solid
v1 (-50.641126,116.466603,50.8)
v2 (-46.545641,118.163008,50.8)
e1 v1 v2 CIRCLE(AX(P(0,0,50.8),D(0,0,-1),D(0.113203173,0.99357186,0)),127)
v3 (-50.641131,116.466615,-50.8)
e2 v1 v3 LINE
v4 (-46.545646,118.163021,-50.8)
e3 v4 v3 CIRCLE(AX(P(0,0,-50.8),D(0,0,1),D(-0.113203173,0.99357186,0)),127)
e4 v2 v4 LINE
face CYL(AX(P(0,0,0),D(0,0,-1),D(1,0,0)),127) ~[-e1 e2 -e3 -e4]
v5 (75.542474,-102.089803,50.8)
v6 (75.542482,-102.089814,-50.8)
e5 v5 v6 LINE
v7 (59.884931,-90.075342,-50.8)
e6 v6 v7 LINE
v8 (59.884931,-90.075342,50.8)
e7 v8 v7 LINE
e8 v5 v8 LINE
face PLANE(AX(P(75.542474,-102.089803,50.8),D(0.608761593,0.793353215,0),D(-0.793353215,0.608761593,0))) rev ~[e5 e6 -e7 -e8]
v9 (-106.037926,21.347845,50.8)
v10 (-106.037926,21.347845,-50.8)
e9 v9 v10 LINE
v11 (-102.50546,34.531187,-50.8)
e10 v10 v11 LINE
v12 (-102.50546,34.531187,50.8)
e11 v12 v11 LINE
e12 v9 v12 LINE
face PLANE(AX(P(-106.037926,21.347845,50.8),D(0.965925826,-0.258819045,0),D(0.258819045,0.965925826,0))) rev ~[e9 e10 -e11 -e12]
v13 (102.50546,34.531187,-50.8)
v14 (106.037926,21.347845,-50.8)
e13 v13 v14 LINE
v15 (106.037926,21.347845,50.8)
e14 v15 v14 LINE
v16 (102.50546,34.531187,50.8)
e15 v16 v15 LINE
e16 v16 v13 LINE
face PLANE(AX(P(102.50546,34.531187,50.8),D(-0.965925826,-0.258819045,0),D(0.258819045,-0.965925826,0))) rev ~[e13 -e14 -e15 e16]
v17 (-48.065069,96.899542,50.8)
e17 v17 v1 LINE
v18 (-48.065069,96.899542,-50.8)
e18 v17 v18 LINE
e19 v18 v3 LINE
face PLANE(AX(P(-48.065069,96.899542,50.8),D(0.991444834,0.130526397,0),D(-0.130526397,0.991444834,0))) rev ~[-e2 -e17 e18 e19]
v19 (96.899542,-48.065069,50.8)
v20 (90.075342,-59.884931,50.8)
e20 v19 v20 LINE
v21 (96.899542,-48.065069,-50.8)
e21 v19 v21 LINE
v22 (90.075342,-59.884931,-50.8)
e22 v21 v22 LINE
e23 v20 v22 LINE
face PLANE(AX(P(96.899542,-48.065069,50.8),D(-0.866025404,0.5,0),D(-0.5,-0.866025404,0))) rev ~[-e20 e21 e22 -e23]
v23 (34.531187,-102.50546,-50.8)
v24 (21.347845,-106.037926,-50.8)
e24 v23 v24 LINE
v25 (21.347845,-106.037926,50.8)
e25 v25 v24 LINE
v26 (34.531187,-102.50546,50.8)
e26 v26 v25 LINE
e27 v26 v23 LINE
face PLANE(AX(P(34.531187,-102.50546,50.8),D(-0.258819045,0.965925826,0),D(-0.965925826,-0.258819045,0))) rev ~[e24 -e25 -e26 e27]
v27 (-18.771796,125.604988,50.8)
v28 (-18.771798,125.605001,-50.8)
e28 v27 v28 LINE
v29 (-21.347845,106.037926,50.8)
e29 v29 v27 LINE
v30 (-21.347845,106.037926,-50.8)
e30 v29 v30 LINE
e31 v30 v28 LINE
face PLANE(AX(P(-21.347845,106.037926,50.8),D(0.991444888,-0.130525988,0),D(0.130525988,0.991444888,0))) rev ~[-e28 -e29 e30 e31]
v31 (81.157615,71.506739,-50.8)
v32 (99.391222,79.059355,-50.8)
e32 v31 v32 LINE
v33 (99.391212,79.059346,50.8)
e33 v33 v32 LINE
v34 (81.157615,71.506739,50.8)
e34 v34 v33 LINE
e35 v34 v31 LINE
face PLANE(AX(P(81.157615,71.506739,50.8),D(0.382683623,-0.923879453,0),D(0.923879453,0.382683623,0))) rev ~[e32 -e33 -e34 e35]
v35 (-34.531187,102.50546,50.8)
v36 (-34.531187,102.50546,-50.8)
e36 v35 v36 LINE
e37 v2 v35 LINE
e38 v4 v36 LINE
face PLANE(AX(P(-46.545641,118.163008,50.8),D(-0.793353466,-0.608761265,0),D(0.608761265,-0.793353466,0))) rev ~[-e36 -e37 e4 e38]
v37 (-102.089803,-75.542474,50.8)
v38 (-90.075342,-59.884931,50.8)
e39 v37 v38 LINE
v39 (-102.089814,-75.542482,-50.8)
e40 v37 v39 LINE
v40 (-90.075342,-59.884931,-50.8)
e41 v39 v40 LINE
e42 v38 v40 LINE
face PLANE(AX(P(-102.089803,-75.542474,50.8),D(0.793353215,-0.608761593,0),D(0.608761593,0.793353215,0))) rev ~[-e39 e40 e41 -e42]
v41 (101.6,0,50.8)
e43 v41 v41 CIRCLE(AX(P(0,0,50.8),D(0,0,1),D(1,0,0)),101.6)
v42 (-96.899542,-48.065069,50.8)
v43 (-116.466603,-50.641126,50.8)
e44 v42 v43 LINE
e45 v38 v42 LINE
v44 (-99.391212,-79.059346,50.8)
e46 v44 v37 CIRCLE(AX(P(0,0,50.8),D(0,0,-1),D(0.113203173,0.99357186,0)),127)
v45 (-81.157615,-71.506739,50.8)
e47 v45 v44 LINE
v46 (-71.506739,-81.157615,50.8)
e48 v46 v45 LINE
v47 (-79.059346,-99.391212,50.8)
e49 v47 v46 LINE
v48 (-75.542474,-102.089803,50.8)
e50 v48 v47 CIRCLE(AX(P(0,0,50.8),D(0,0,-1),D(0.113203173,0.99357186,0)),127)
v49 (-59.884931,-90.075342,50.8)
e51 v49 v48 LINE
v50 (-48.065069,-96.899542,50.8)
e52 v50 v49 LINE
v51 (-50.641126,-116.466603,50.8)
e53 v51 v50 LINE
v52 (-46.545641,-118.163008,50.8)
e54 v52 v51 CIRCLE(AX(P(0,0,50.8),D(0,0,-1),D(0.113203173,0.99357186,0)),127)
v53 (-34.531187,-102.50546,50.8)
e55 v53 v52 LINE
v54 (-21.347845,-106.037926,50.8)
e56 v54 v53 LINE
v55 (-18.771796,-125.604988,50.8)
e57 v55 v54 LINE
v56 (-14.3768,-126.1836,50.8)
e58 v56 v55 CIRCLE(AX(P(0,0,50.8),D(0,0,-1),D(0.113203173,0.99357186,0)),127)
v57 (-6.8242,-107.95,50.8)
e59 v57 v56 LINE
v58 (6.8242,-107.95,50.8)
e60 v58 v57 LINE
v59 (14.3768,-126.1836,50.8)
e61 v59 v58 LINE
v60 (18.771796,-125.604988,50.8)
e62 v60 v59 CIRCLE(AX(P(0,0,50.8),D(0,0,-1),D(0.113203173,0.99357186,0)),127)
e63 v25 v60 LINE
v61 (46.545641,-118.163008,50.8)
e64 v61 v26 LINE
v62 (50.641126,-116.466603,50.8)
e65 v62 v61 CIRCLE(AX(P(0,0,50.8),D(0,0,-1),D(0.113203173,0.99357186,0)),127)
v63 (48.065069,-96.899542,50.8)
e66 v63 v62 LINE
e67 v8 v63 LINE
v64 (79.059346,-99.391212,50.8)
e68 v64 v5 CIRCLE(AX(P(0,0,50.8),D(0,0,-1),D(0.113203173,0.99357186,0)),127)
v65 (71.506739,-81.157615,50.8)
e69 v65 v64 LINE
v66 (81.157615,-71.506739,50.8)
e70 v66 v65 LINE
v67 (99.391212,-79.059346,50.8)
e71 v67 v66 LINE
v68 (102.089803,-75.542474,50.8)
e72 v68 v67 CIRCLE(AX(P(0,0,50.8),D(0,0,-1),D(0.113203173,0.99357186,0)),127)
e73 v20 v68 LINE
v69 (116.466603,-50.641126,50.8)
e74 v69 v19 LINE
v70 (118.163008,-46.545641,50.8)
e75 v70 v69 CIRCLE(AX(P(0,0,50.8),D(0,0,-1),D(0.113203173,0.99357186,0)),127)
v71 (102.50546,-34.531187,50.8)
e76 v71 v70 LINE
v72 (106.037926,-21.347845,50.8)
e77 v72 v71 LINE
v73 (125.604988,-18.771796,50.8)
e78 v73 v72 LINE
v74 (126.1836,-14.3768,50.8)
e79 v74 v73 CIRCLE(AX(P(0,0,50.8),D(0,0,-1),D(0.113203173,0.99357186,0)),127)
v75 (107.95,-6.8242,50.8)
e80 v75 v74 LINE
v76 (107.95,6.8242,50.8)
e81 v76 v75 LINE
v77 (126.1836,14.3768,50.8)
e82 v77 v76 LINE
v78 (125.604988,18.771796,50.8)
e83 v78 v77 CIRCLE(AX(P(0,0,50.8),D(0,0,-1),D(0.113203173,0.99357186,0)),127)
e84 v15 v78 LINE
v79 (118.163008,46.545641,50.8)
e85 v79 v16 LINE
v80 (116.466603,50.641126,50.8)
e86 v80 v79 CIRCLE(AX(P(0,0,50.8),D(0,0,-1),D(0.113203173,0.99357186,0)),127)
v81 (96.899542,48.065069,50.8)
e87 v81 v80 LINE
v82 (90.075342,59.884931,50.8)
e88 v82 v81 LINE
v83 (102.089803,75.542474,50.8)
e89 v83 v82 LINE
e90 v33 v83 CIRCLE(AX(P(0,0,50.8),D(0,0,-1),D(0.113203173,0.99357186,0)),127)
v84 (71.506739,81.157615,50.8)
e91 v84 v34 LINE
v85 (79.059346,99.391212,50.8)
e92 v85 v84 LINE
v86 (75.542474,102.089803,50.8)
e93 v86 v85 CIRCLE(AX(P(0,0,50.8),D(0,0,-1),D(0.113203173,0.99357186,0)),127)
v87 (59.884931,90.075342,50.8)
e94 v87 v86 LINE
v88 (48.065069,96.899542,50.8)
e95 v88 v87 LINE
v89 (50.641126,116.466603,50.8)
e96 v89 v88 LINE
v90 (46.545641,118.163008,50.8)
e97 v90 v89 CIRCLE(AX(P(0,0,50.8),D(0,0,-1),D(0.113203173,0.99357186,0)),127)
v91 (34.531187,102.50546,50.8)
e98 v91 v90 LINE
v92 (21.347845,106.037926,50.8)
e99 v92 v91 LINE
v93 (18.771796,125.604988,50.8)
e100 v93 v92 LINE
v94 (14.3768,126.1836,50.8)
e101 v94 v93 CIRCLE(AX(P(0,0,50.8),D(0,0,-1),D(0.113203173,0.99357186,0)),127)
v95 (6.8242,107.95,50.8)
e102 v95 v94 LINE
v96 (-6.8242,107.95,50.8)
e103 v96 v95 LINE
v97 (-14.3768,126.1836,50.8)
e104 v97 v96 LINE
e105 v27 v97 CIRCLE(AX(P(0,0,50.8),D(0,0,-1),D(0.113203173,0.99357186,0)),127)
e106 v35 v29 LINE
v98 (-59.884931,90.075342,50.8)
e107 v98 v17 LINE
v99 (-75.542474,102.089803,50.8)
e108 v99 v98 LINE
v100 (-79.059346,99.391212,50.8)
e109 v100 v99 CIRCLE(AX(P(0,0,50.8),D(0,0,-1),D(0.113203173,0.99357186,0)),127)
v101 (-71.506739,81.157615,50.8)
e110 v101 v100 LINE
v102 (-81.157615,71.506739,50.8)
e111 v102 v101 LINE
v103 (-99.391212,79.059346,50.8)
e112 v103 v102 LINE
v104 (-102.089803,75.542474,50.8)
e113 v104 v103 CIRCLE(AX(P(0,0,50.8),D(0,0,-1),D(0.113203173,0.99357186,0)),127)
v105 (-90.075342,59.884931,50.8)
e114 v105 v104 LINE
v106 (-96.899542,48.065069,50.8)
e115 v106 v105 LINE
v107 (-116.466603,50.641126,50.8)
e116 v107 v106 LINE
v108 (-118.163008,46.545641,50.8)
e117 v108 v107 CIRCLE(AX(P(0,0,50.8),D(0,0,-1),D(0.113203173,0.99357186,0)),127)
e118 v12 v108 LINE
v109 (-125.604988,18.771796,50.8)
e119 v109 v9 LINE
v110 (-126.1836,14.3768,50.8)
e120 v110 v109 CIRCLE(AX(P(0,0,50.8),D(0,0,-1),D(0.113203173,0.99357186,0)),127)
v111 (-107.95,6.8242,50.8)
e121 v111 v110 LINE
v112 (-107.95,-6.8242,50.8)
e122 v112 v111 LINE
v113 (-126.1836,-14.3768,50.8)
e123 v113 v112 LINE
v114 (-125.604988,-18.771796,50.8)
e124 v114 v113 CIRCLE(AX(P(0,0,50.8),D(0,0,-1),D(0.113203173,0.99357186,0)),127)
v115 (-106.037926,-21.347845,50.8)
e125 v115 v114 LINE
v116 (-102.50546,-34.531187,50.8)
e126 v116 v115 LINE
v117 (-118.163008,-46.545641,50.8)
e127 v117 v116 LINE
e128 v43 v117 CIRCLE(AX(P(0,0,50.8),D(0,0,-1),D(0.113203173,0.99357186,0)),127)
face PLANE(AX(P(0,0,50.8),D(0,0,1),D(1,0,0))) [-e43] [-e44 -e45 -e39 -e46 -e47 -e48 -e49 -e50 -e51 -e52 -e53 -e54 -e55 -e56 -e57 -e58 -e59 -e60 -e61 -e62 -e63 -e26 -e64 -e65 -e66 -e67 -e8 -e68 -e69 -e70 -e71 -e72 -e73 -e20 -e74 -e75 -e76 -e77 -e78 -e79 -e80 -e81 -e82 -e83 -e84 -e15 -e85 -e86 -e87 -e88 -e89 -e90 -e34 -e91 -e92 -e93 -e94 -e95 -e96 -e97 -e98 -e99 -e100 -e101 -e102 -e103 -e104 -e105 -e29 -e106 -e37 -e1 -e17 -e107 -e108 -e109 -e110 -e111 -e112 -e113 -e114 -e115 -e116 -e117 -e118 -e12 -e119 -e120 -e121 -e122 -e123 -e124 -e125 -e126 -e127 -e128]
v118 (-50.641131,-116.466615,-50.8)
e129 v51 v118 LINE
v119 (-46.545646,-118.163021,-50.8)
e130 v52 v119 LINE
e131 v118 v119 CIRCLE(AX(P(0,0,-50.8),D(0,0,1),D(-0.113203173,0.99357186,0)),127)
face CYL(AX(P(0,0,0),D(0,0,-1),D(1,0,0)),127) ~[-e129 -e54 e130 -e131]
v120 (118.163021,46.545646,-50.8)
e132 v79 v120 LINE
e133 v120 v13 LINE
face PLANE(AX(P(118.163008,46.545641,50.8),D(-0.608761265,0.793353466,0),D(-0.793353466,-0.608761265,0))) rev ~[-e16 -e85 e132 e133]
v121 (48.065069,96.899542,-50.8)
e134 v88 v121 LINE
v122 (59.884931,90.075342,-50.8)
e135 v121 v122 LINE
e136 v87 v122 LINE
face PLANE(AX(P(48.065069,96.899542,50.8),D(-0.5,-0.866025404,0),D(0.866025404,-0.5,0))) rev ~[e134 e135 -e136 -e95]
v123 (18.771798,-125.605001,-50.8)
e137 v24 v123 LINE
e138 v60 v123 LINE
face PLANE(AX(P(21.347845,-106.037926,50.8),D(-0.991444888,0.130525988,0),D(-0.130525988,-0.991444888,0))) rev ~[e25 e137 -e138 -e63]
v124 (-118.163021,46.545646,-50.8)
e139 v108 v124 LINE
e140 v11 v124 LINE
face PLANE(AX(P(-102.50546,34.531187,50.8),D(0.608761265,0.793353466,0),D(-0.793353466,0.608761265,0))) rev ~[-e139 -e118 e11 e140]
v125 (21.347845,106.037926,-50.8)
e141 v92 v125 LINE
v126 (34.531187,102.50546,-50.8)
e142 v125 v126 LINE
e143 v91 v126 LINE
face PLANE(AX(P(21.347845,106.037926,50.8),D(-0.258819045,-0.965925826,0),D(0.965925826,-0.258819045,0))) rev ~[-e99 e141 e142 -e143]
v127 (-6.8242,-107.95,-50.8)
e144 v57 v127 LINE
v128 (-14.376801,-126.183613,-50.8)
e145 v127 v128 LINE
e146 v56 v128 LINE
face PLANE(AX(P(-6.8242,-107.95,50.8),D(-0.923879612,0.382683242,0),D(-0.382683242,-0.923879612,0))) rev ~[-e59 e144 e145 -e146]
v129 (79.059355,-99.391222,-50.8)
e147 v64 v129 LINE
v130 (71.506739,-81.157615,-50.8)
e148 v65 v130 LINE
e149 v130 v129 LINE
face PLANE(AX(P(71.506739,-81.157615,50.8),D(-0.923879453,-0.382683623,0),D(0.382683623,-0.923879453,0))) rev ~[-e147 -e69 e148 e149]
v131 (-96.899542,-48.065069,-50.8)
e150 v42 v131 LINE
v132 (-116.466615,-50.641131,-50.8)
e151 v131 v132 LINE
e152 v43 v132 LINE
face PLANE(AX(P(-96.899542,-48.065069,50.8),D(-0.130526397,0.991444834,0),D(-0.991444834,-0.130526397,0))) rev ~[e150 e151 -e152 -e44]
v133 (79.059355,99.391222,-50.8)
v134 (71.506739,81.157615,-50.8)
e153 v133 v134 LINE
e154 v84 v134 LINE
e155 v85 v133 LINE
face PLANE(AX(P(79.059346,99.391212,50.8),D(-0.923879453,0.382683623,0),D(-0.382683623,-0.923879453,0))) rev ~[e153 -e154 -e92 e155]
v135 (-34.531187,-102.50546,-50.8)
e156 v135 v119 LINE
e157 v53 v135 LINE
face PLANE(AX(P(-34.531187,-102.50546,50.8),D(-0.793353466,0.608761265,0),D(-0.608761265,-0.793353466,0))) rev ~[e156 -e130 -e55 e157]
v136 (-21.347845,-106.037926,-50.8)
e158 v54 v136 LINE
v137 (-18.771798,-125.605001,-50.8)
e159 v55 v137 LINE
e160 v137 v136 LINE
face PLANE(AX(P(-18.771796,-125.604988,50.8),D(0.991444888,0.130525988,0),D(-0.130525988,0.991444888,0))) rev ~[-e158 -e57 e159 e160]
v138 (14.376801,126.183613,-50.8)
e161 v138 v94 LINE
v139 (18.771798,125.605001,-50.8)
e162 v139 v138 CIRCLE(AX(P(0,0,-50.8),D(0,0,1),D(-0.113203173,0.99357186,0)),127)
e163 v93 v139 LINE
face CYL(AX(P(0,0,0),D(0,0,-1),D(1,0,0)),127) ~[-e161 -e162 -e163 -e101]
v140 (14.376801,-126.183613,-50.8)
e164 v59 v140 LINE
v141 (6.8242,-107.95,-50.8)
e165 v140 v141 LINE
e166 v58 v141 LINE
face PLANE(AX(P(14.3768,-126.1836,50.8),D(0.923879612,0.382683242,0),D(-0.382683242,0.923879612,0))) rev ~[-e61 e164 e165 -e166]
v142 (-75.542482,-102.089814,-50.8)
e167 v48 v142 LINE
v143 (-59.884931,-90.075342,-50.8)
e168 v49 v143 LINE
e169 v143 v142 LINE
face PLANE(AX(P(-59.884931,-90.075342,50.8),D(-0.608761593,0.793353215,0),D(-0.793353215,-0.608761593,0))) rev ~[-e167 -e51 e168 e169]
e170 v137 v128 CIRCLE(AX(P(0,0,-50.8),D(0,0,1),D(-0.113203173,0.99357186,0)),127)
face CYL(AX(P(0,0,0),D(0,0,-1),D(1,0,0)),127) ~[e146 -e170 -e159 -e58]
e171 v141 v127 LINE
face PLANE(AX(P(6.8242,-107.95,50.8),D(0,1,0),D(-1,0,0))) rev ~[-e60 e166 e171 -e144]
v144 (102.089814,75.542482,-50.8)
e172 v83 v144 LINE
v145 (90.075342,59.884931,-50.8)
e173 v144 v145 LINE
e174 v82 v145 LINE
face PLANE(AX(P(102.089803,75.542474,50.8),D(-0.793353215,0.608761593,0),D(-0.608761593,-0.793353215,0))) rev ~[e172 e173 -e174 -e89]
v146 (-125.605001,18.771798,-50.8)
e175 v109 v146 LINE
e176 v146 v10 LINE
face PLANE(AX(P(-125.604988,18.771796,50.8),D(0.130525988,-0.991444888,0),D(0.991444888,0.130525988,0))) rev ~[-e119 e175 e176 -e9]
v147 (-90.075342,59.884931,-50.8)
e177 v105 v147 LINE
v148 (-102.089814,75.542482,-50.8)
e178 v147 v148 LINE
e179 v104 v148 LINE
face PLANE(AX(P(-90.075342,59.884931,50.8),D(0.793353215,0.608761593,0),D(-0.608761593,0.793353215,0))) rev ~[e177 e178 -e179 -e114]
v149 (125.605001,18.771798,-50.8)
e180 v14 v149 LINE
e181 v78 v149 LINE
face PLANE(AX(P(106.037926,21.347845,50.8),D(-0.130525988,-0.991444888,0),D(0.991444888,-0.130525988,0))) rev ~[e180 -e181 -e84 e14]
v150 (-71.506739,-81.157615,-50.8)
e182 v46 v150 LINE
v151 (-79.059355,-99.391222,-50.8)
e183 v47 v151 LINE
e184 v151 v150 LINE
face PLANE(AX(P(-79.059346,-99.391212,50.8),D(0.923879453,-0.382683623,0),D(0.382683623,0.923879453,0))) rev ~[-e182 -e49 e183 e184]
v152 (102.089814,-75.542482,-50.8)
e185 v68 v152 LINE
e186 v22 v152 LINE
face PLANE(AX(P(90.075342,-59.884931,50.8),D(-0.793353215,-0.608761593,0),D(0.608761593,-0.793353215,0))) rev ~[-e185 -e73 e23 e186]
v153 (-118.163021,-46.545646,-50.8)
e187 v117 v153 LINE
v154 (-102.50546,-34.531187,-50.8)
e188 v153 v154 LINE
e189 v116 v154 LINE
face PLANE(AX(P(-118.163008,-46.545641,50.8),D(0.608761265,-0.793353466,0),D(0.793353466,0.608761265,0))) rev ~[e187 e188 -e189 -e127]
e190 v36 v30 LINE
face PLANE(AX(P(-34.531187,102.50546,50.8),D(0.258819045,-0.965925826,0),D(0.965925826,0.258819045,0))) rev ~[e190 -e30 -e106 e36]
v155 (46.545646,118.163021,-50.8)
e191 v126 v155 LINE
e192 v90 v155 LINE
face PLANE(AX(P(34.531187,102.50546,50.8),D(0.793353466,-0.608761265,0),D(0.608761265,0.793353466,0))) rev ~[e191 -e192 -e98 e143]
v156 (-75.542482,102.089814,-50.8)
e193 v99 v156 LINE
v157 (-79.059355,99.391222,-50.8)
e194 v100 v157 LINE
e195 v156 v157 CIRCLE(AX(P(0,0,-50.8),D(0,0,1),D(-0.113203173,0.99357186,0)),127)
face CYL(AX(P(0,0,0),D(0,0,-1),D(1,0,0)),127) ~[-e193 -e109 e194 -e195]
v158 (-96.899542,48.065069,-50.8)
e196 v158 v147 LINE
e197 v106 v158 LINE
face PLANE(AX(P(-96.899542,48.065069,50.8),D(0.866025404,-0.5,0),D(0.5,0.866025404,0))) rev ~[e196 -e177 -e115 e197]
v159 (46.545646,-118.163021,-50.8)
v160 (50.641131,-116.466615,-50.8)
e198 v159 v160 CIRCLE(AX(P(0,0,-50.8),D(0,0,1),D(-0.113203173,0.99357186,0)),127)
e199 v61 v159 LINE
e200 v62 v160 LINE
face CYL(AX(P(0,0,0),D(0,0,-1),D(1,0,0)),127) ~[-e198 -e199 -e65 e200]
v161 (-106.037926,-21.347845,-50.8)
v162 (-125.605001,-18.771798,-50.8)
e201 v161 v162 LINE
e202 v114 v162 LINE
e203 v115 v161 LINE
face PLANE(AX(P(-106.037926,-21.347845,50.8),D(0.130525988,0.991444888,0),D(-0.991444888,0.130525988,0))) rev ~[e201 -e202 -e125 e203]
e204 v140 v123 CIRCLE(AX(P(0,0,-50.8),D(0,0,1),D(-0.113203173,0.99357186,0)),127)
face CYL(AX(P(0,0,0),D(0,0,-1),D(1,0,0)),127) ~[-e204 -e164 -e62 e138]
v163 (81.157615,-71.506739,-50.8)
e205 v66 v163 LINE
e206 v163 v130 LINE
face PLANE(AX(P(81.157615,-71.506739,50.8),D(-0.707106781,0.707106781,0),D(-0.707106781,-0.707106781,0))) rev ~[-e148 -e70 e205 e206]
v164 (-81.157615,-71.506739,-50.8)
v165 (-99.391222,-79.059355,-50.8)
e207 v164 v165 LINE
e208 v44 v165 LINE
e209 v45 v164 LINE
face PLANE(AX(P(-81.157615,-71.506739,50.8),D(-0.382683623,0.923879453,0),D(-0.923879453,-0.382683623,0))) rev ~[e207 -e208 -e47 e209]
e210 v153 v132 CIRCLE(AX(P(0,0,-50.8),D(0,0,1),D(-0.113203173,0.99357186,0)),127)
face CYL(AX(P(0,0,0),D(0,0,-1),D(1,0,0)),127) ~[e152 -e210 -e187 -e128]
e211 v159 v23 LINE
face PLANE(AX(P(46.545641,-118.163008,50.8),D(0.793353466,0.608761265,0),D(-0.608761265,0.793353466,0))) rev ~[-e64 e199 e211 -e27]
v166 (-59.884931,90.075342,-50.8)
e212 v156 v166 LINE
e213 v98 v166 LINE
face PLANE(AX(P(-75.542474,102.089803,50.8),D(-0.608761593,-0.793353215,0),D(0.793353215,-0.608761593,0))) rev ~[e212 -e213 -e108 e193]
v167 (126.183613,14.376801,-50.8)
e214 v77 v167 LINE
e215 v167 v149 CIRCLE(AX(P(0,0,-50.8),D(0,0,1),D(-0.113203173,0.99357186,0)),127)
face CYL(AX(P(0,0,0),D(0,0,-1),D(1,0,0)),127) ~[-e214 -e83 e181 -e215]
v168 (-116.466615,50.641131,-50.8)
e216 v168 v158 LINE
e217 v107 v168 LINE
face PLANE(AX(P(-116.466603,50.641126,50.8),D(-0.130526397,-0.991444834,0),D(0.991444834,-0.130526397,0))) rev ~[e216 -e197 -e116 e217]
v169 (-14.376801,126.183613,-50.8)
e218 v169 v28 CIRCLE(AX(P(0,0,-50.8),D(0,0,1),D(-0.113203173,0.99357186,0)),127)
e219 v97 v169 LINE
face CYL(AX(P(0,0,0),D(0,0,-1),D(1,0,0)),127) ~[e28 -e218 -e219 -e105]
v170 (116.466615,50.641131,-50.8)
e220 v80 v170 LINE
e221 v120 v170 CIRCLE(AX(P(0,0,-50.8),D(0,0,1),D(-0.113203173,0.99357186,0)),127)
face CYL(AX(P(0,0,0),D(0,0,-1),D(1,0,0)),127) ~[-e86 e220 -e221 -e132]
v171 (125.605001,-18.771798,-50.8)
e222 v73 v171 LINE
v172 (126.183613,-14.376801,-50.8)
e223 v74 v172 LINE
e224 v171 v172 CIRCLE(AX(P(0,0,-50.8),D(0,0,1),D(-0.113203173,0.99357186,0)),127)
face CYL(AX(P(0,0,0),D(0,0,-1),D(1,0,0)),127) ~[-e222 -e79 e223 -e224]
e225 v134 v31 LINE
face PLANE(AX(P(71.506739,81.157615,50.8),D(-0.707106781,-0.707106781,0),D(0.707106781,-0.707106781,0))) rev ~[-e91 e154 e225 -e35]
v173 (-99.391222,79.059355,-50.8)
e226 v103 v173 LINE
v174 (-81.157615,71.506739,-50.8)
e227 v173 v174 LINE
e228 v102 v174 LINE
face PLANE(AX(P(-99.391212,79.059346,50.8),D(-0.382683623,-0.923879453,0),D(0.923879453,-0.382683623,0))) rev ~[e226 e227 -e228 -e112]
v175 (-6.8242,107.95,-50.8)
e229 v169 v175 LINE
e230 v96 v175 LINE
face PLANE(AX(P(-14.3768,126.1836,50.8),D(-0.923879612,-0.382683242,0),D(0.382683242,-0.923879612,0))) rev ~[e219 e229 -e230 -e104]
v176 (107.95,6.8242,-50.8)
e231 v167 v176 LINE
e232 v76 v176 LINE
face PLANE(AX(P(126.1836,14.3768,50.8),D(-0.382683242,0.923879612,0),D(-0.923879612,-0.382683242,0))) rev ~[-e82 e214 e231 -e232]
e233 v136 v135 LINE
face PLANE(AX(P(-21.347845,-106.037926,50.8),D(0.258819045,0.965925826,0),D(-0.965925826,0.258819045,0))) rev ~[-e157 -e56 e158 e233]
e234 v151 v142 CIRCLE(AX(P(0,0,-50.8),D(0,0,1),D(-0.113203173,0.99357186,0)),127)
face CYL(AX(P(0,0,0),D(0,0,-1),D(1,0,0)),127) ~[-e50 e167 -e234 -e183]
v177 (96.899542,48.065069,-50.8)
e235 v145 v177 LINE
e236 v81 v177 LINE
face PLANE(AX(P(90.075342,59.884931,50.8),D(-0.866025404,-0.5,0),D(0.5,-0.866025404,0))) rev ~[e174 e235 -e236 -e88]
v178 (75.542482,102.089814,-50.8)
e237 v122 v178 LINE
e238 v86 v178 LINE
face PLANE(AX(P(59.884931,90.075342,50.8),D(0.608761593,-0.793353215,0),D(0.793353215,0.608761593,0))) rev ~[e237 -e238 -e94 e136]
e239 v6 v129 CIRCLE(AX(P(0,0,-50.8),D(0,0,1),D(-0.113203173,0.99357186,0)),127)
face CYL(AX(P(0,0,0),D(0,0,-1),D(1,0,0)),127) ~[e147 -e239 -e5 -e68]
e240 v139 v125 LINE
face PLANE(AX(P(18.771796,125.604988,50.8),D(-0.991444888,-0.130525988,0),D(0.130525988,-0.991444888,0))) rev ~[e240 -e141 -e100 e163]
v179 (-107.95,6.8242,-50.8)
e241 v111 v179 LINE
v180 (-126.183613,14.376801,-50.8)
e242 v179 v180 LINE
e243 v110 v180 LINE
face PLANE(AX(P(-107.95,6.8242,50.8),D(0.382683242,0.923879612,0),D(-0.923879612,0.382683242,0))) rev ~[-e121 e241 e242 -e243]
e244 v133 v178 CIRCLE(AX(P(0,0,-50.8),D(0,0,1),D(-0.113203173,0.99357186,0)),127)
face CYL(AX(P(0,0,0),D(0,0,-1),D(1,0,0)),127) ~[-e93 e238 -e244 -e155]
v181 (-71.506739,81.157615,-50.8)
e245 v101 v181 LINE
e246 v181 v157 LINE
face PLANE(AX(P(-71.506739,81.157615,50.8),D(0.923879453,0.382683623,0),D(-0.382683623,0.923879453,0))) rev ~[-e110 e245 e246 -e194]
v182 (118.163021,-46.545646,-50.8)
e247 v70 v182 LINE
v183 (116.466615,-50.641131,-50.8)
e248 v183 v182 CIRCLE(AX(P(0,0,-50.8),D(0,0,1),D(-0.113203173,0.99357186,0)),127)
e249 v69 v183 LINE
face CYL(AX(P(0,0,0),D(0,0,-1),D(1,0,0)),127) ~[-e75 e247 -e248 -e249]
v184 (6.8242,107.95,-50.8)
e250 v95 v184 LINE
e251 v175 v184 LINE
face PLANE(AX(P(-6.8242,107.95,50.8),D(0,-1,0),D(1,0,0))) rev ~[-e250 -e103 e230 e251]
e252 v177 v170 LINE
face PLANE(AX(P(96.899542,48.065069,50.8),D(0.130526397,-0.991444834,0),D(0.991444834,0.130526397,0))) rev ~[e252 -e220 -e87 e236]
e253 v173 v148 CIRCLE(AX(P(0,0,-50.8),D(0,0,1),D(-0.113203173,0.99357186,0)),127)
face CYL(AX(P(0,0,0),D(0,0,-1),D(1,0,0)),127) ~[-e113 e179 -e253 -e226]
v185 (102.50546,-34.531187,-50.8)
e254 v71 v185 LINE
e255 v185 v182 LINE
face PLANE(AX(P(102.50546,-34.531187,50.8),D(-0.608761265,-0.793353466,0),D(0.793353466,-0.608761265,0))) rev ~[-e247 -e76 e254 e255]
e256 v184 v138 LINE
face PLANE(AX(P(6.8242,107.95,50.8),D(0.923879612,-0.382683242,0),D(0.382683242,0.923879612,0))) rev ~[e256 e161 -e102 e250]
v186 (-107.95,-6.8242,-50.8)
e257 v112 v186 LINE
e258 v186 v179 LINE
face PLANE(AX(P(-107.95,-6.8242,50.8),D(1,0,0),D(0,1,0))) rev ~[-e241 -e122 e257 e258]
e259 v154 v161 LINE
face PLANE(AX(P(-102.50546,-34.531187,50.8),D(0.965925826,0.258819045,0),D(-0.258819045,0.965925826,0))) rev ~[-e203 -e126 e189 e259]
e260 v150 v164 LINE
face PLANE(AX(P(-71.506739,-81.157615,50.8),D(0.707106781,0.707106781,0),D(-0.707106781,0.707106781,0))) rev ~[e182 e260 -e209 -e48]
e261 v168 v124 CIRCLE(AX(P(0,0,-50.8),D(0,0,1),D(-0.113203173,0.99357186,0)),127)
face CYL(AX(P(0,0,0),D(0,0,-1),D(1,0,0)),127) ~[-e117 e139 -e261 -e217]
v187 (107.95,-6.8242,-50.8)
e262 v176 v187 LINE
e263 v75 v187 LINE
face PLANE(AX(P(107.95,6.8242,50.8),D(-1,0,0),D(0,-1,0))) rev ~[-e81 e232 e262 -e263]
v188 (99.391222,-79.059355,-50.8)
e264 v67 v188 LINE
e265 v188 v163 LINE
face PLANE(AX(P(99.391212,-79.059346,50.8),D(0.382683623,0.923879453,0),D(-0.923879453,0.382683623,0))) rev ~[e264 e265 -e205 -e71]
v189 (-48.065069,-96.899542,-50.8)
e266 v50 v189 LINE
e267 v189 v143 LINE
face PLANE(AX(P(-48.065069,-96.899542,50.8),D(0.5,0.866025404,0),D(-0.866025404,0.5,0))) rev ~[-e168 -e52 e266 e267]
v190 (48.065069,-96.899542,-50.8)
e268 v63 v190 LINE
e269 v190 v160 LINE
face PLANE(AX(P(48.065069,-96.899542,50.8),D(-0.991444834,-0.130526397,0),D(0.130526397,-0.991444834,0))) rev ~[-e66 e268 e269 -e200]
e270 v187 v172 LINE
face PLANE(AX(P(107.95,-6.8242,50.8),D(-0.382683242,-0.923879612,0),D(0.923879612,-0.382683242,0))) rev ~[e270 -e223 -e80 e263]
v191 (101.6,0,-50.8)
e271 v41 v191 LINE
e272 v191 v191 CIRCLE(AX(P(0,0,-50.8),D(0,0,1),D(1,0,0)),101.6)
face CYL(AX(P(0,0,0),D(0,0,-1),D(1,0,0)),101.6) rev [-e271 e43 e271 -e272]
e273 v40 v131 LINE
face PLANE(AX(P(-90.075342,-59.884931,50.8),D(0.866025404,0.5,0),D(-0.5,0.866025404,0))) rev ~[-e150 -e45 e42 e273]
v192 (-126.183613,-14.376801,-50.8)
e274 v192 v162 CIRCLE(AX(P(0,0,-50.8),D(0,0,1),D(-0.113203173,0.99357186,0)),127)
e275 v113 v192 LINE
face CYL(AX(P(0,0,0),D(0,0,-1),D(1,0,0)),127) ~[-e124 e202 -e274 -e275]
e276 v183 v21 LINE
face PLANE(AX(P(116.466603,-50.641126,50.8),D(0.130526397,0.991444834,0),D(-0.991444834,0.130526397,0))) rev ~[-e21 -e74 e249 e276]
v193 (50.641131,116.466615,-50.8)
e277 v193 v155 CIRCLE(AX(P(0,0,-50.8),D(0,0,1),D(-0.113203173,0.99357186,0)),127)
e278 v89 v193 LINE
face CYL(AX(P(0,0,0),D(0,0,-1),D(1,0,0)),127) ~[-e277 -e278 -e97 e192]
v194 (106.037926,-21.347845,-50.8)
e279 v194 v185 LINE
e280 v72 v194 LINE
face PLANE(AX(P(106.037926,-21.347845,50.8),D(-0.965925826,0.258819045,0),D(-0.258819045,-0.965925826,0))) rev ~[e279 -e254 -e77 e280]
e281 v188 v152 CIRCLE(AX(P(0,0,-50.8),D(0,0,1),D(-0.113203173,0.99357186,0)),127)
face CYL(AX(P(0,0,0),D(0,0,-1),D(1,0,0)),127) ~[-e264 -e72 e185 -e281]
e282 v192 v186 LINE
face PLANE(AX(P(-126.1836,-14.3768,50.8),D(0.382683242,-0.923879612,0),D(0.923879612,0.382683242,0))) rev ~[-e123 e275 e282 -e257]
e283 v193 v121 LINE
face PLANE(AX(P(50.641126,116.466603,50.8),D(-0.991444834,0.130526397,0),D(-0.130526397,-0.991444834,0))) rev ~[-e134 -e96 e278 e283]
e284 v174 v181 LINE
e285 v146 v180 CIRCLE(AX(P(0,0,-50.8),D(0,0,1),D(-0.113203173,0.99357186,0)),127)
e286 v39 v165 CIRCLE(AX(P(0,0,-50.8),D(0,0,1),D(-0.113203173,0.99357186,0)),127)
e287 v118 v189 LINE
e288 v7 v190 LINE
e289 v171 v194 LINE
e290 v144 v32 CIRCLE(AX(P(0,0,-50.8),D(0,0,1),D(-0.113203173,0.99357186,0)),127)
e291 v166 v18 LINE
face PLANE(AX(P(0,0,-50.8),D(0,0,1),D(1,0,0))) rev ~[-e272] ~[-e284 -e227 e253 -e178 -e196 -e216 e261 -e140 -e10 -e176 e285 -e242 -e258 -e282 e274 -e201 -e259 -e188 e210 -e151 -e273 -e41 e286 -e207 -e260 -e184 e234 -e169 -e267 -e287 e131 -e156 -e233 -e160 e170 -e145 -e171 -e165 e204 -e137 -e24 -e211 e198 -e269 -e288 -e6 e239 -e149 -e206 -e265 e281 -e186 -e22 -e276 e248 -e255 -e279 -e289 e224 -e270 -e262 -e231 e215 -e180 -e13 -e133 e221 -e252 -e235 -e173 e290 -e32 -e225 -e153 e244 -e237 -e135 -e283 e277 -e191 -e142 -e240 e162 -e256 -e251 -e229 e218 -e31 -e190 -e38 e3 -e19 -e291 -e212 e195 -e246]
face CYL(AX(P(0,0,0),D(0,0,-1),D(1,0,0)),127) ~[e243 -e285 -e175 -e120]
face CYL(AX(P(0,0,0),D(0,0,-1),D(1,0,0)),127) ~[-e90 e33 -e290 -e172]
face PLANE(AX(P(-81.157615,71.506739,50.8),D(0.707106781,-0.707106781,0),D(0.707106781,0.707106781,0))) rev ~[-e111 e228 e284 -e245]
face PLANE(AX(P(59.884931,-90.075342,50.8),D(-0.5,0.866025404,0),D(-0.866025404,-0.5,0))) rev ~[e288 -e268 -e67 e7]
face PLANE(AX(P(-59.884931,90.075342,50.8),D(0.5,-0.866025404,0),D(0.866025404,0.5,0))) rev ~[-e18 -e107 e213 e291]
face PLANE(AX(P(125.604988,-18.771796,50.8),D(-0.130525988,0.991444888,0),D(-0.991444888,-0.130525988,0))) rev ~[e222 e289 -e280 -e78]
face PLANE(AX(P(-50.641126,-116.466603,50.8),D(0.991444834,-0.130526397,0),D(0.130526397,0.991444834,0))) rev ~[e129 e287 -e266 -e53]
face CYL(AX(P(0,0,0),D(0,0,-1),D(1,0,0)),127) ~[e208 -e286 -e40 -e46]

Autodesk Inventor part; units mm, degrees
ref_plane "YZ Plane" through (0, 0, 0) normal (1, 0, 0) x (0, 1, 0)
ref_plane "XZ Plane" through (0, 0, 0) normal (0, 1, 0) x (-1, 0, 0)
ref_plane "XY Plane" through (0, 0, 0) normal (0, 0, 1) x (1, 0, 0)
sketch "Sketch1" plane through (0, 0, 0) normal (0, 0, 1) x (1, 0, 0)
  circle A0 centre (0, 0) radius 101.6
  circle A1 centre (0, 0) radius 127
  dimension "d0" = 203.2
  dimension "d1" = 25.4
extrude "Extrusion1" add sketch "Sketch1" along normal mid plane 101.6
sketch "Sketch2" plane through (0, 0, 50.8) normal (0, 0, 1) x (1, 0, 0)
  circle A0 centre (0, 0) radius 127 projected
  line L0 (-14.3768, 126.1836) -> (-6.8242, 107.95)
  line L1 (-6.8242, 107.95) -> (6.8242, 107.95)
  line L2 (6.8242, 107.95) -> (14.3768, 126.1836)
  line L3 (0, 107.95) -> (0, 128.4311) construction
  line L4 (-14.3768, 126.1836) -> (0, 0) construction
  line L5 (0, 0) -> (14.3768, 126.1836) construction
  arc A1 (14.3768, 126.1836) -> (-14.3768, 126.1836) centre (0, 0) ccw
  dimension "d4" = 19.05
  dimension "d5" = 45
  dimension "d6" = 13
extrude "Extrusion2" cut sketch "Sketch2" against normal through all contours L2 L1 L0 A0 picked at (1.6005, 114.2697)
pattern_circular "Circular Pattern1" count 24 over 360 about axis through (0, 0, 0) along (0, 0, 1) of "Extrusion2"
properties part number "NASA-20-HUB-TRD-01" material "PET Plastic"
